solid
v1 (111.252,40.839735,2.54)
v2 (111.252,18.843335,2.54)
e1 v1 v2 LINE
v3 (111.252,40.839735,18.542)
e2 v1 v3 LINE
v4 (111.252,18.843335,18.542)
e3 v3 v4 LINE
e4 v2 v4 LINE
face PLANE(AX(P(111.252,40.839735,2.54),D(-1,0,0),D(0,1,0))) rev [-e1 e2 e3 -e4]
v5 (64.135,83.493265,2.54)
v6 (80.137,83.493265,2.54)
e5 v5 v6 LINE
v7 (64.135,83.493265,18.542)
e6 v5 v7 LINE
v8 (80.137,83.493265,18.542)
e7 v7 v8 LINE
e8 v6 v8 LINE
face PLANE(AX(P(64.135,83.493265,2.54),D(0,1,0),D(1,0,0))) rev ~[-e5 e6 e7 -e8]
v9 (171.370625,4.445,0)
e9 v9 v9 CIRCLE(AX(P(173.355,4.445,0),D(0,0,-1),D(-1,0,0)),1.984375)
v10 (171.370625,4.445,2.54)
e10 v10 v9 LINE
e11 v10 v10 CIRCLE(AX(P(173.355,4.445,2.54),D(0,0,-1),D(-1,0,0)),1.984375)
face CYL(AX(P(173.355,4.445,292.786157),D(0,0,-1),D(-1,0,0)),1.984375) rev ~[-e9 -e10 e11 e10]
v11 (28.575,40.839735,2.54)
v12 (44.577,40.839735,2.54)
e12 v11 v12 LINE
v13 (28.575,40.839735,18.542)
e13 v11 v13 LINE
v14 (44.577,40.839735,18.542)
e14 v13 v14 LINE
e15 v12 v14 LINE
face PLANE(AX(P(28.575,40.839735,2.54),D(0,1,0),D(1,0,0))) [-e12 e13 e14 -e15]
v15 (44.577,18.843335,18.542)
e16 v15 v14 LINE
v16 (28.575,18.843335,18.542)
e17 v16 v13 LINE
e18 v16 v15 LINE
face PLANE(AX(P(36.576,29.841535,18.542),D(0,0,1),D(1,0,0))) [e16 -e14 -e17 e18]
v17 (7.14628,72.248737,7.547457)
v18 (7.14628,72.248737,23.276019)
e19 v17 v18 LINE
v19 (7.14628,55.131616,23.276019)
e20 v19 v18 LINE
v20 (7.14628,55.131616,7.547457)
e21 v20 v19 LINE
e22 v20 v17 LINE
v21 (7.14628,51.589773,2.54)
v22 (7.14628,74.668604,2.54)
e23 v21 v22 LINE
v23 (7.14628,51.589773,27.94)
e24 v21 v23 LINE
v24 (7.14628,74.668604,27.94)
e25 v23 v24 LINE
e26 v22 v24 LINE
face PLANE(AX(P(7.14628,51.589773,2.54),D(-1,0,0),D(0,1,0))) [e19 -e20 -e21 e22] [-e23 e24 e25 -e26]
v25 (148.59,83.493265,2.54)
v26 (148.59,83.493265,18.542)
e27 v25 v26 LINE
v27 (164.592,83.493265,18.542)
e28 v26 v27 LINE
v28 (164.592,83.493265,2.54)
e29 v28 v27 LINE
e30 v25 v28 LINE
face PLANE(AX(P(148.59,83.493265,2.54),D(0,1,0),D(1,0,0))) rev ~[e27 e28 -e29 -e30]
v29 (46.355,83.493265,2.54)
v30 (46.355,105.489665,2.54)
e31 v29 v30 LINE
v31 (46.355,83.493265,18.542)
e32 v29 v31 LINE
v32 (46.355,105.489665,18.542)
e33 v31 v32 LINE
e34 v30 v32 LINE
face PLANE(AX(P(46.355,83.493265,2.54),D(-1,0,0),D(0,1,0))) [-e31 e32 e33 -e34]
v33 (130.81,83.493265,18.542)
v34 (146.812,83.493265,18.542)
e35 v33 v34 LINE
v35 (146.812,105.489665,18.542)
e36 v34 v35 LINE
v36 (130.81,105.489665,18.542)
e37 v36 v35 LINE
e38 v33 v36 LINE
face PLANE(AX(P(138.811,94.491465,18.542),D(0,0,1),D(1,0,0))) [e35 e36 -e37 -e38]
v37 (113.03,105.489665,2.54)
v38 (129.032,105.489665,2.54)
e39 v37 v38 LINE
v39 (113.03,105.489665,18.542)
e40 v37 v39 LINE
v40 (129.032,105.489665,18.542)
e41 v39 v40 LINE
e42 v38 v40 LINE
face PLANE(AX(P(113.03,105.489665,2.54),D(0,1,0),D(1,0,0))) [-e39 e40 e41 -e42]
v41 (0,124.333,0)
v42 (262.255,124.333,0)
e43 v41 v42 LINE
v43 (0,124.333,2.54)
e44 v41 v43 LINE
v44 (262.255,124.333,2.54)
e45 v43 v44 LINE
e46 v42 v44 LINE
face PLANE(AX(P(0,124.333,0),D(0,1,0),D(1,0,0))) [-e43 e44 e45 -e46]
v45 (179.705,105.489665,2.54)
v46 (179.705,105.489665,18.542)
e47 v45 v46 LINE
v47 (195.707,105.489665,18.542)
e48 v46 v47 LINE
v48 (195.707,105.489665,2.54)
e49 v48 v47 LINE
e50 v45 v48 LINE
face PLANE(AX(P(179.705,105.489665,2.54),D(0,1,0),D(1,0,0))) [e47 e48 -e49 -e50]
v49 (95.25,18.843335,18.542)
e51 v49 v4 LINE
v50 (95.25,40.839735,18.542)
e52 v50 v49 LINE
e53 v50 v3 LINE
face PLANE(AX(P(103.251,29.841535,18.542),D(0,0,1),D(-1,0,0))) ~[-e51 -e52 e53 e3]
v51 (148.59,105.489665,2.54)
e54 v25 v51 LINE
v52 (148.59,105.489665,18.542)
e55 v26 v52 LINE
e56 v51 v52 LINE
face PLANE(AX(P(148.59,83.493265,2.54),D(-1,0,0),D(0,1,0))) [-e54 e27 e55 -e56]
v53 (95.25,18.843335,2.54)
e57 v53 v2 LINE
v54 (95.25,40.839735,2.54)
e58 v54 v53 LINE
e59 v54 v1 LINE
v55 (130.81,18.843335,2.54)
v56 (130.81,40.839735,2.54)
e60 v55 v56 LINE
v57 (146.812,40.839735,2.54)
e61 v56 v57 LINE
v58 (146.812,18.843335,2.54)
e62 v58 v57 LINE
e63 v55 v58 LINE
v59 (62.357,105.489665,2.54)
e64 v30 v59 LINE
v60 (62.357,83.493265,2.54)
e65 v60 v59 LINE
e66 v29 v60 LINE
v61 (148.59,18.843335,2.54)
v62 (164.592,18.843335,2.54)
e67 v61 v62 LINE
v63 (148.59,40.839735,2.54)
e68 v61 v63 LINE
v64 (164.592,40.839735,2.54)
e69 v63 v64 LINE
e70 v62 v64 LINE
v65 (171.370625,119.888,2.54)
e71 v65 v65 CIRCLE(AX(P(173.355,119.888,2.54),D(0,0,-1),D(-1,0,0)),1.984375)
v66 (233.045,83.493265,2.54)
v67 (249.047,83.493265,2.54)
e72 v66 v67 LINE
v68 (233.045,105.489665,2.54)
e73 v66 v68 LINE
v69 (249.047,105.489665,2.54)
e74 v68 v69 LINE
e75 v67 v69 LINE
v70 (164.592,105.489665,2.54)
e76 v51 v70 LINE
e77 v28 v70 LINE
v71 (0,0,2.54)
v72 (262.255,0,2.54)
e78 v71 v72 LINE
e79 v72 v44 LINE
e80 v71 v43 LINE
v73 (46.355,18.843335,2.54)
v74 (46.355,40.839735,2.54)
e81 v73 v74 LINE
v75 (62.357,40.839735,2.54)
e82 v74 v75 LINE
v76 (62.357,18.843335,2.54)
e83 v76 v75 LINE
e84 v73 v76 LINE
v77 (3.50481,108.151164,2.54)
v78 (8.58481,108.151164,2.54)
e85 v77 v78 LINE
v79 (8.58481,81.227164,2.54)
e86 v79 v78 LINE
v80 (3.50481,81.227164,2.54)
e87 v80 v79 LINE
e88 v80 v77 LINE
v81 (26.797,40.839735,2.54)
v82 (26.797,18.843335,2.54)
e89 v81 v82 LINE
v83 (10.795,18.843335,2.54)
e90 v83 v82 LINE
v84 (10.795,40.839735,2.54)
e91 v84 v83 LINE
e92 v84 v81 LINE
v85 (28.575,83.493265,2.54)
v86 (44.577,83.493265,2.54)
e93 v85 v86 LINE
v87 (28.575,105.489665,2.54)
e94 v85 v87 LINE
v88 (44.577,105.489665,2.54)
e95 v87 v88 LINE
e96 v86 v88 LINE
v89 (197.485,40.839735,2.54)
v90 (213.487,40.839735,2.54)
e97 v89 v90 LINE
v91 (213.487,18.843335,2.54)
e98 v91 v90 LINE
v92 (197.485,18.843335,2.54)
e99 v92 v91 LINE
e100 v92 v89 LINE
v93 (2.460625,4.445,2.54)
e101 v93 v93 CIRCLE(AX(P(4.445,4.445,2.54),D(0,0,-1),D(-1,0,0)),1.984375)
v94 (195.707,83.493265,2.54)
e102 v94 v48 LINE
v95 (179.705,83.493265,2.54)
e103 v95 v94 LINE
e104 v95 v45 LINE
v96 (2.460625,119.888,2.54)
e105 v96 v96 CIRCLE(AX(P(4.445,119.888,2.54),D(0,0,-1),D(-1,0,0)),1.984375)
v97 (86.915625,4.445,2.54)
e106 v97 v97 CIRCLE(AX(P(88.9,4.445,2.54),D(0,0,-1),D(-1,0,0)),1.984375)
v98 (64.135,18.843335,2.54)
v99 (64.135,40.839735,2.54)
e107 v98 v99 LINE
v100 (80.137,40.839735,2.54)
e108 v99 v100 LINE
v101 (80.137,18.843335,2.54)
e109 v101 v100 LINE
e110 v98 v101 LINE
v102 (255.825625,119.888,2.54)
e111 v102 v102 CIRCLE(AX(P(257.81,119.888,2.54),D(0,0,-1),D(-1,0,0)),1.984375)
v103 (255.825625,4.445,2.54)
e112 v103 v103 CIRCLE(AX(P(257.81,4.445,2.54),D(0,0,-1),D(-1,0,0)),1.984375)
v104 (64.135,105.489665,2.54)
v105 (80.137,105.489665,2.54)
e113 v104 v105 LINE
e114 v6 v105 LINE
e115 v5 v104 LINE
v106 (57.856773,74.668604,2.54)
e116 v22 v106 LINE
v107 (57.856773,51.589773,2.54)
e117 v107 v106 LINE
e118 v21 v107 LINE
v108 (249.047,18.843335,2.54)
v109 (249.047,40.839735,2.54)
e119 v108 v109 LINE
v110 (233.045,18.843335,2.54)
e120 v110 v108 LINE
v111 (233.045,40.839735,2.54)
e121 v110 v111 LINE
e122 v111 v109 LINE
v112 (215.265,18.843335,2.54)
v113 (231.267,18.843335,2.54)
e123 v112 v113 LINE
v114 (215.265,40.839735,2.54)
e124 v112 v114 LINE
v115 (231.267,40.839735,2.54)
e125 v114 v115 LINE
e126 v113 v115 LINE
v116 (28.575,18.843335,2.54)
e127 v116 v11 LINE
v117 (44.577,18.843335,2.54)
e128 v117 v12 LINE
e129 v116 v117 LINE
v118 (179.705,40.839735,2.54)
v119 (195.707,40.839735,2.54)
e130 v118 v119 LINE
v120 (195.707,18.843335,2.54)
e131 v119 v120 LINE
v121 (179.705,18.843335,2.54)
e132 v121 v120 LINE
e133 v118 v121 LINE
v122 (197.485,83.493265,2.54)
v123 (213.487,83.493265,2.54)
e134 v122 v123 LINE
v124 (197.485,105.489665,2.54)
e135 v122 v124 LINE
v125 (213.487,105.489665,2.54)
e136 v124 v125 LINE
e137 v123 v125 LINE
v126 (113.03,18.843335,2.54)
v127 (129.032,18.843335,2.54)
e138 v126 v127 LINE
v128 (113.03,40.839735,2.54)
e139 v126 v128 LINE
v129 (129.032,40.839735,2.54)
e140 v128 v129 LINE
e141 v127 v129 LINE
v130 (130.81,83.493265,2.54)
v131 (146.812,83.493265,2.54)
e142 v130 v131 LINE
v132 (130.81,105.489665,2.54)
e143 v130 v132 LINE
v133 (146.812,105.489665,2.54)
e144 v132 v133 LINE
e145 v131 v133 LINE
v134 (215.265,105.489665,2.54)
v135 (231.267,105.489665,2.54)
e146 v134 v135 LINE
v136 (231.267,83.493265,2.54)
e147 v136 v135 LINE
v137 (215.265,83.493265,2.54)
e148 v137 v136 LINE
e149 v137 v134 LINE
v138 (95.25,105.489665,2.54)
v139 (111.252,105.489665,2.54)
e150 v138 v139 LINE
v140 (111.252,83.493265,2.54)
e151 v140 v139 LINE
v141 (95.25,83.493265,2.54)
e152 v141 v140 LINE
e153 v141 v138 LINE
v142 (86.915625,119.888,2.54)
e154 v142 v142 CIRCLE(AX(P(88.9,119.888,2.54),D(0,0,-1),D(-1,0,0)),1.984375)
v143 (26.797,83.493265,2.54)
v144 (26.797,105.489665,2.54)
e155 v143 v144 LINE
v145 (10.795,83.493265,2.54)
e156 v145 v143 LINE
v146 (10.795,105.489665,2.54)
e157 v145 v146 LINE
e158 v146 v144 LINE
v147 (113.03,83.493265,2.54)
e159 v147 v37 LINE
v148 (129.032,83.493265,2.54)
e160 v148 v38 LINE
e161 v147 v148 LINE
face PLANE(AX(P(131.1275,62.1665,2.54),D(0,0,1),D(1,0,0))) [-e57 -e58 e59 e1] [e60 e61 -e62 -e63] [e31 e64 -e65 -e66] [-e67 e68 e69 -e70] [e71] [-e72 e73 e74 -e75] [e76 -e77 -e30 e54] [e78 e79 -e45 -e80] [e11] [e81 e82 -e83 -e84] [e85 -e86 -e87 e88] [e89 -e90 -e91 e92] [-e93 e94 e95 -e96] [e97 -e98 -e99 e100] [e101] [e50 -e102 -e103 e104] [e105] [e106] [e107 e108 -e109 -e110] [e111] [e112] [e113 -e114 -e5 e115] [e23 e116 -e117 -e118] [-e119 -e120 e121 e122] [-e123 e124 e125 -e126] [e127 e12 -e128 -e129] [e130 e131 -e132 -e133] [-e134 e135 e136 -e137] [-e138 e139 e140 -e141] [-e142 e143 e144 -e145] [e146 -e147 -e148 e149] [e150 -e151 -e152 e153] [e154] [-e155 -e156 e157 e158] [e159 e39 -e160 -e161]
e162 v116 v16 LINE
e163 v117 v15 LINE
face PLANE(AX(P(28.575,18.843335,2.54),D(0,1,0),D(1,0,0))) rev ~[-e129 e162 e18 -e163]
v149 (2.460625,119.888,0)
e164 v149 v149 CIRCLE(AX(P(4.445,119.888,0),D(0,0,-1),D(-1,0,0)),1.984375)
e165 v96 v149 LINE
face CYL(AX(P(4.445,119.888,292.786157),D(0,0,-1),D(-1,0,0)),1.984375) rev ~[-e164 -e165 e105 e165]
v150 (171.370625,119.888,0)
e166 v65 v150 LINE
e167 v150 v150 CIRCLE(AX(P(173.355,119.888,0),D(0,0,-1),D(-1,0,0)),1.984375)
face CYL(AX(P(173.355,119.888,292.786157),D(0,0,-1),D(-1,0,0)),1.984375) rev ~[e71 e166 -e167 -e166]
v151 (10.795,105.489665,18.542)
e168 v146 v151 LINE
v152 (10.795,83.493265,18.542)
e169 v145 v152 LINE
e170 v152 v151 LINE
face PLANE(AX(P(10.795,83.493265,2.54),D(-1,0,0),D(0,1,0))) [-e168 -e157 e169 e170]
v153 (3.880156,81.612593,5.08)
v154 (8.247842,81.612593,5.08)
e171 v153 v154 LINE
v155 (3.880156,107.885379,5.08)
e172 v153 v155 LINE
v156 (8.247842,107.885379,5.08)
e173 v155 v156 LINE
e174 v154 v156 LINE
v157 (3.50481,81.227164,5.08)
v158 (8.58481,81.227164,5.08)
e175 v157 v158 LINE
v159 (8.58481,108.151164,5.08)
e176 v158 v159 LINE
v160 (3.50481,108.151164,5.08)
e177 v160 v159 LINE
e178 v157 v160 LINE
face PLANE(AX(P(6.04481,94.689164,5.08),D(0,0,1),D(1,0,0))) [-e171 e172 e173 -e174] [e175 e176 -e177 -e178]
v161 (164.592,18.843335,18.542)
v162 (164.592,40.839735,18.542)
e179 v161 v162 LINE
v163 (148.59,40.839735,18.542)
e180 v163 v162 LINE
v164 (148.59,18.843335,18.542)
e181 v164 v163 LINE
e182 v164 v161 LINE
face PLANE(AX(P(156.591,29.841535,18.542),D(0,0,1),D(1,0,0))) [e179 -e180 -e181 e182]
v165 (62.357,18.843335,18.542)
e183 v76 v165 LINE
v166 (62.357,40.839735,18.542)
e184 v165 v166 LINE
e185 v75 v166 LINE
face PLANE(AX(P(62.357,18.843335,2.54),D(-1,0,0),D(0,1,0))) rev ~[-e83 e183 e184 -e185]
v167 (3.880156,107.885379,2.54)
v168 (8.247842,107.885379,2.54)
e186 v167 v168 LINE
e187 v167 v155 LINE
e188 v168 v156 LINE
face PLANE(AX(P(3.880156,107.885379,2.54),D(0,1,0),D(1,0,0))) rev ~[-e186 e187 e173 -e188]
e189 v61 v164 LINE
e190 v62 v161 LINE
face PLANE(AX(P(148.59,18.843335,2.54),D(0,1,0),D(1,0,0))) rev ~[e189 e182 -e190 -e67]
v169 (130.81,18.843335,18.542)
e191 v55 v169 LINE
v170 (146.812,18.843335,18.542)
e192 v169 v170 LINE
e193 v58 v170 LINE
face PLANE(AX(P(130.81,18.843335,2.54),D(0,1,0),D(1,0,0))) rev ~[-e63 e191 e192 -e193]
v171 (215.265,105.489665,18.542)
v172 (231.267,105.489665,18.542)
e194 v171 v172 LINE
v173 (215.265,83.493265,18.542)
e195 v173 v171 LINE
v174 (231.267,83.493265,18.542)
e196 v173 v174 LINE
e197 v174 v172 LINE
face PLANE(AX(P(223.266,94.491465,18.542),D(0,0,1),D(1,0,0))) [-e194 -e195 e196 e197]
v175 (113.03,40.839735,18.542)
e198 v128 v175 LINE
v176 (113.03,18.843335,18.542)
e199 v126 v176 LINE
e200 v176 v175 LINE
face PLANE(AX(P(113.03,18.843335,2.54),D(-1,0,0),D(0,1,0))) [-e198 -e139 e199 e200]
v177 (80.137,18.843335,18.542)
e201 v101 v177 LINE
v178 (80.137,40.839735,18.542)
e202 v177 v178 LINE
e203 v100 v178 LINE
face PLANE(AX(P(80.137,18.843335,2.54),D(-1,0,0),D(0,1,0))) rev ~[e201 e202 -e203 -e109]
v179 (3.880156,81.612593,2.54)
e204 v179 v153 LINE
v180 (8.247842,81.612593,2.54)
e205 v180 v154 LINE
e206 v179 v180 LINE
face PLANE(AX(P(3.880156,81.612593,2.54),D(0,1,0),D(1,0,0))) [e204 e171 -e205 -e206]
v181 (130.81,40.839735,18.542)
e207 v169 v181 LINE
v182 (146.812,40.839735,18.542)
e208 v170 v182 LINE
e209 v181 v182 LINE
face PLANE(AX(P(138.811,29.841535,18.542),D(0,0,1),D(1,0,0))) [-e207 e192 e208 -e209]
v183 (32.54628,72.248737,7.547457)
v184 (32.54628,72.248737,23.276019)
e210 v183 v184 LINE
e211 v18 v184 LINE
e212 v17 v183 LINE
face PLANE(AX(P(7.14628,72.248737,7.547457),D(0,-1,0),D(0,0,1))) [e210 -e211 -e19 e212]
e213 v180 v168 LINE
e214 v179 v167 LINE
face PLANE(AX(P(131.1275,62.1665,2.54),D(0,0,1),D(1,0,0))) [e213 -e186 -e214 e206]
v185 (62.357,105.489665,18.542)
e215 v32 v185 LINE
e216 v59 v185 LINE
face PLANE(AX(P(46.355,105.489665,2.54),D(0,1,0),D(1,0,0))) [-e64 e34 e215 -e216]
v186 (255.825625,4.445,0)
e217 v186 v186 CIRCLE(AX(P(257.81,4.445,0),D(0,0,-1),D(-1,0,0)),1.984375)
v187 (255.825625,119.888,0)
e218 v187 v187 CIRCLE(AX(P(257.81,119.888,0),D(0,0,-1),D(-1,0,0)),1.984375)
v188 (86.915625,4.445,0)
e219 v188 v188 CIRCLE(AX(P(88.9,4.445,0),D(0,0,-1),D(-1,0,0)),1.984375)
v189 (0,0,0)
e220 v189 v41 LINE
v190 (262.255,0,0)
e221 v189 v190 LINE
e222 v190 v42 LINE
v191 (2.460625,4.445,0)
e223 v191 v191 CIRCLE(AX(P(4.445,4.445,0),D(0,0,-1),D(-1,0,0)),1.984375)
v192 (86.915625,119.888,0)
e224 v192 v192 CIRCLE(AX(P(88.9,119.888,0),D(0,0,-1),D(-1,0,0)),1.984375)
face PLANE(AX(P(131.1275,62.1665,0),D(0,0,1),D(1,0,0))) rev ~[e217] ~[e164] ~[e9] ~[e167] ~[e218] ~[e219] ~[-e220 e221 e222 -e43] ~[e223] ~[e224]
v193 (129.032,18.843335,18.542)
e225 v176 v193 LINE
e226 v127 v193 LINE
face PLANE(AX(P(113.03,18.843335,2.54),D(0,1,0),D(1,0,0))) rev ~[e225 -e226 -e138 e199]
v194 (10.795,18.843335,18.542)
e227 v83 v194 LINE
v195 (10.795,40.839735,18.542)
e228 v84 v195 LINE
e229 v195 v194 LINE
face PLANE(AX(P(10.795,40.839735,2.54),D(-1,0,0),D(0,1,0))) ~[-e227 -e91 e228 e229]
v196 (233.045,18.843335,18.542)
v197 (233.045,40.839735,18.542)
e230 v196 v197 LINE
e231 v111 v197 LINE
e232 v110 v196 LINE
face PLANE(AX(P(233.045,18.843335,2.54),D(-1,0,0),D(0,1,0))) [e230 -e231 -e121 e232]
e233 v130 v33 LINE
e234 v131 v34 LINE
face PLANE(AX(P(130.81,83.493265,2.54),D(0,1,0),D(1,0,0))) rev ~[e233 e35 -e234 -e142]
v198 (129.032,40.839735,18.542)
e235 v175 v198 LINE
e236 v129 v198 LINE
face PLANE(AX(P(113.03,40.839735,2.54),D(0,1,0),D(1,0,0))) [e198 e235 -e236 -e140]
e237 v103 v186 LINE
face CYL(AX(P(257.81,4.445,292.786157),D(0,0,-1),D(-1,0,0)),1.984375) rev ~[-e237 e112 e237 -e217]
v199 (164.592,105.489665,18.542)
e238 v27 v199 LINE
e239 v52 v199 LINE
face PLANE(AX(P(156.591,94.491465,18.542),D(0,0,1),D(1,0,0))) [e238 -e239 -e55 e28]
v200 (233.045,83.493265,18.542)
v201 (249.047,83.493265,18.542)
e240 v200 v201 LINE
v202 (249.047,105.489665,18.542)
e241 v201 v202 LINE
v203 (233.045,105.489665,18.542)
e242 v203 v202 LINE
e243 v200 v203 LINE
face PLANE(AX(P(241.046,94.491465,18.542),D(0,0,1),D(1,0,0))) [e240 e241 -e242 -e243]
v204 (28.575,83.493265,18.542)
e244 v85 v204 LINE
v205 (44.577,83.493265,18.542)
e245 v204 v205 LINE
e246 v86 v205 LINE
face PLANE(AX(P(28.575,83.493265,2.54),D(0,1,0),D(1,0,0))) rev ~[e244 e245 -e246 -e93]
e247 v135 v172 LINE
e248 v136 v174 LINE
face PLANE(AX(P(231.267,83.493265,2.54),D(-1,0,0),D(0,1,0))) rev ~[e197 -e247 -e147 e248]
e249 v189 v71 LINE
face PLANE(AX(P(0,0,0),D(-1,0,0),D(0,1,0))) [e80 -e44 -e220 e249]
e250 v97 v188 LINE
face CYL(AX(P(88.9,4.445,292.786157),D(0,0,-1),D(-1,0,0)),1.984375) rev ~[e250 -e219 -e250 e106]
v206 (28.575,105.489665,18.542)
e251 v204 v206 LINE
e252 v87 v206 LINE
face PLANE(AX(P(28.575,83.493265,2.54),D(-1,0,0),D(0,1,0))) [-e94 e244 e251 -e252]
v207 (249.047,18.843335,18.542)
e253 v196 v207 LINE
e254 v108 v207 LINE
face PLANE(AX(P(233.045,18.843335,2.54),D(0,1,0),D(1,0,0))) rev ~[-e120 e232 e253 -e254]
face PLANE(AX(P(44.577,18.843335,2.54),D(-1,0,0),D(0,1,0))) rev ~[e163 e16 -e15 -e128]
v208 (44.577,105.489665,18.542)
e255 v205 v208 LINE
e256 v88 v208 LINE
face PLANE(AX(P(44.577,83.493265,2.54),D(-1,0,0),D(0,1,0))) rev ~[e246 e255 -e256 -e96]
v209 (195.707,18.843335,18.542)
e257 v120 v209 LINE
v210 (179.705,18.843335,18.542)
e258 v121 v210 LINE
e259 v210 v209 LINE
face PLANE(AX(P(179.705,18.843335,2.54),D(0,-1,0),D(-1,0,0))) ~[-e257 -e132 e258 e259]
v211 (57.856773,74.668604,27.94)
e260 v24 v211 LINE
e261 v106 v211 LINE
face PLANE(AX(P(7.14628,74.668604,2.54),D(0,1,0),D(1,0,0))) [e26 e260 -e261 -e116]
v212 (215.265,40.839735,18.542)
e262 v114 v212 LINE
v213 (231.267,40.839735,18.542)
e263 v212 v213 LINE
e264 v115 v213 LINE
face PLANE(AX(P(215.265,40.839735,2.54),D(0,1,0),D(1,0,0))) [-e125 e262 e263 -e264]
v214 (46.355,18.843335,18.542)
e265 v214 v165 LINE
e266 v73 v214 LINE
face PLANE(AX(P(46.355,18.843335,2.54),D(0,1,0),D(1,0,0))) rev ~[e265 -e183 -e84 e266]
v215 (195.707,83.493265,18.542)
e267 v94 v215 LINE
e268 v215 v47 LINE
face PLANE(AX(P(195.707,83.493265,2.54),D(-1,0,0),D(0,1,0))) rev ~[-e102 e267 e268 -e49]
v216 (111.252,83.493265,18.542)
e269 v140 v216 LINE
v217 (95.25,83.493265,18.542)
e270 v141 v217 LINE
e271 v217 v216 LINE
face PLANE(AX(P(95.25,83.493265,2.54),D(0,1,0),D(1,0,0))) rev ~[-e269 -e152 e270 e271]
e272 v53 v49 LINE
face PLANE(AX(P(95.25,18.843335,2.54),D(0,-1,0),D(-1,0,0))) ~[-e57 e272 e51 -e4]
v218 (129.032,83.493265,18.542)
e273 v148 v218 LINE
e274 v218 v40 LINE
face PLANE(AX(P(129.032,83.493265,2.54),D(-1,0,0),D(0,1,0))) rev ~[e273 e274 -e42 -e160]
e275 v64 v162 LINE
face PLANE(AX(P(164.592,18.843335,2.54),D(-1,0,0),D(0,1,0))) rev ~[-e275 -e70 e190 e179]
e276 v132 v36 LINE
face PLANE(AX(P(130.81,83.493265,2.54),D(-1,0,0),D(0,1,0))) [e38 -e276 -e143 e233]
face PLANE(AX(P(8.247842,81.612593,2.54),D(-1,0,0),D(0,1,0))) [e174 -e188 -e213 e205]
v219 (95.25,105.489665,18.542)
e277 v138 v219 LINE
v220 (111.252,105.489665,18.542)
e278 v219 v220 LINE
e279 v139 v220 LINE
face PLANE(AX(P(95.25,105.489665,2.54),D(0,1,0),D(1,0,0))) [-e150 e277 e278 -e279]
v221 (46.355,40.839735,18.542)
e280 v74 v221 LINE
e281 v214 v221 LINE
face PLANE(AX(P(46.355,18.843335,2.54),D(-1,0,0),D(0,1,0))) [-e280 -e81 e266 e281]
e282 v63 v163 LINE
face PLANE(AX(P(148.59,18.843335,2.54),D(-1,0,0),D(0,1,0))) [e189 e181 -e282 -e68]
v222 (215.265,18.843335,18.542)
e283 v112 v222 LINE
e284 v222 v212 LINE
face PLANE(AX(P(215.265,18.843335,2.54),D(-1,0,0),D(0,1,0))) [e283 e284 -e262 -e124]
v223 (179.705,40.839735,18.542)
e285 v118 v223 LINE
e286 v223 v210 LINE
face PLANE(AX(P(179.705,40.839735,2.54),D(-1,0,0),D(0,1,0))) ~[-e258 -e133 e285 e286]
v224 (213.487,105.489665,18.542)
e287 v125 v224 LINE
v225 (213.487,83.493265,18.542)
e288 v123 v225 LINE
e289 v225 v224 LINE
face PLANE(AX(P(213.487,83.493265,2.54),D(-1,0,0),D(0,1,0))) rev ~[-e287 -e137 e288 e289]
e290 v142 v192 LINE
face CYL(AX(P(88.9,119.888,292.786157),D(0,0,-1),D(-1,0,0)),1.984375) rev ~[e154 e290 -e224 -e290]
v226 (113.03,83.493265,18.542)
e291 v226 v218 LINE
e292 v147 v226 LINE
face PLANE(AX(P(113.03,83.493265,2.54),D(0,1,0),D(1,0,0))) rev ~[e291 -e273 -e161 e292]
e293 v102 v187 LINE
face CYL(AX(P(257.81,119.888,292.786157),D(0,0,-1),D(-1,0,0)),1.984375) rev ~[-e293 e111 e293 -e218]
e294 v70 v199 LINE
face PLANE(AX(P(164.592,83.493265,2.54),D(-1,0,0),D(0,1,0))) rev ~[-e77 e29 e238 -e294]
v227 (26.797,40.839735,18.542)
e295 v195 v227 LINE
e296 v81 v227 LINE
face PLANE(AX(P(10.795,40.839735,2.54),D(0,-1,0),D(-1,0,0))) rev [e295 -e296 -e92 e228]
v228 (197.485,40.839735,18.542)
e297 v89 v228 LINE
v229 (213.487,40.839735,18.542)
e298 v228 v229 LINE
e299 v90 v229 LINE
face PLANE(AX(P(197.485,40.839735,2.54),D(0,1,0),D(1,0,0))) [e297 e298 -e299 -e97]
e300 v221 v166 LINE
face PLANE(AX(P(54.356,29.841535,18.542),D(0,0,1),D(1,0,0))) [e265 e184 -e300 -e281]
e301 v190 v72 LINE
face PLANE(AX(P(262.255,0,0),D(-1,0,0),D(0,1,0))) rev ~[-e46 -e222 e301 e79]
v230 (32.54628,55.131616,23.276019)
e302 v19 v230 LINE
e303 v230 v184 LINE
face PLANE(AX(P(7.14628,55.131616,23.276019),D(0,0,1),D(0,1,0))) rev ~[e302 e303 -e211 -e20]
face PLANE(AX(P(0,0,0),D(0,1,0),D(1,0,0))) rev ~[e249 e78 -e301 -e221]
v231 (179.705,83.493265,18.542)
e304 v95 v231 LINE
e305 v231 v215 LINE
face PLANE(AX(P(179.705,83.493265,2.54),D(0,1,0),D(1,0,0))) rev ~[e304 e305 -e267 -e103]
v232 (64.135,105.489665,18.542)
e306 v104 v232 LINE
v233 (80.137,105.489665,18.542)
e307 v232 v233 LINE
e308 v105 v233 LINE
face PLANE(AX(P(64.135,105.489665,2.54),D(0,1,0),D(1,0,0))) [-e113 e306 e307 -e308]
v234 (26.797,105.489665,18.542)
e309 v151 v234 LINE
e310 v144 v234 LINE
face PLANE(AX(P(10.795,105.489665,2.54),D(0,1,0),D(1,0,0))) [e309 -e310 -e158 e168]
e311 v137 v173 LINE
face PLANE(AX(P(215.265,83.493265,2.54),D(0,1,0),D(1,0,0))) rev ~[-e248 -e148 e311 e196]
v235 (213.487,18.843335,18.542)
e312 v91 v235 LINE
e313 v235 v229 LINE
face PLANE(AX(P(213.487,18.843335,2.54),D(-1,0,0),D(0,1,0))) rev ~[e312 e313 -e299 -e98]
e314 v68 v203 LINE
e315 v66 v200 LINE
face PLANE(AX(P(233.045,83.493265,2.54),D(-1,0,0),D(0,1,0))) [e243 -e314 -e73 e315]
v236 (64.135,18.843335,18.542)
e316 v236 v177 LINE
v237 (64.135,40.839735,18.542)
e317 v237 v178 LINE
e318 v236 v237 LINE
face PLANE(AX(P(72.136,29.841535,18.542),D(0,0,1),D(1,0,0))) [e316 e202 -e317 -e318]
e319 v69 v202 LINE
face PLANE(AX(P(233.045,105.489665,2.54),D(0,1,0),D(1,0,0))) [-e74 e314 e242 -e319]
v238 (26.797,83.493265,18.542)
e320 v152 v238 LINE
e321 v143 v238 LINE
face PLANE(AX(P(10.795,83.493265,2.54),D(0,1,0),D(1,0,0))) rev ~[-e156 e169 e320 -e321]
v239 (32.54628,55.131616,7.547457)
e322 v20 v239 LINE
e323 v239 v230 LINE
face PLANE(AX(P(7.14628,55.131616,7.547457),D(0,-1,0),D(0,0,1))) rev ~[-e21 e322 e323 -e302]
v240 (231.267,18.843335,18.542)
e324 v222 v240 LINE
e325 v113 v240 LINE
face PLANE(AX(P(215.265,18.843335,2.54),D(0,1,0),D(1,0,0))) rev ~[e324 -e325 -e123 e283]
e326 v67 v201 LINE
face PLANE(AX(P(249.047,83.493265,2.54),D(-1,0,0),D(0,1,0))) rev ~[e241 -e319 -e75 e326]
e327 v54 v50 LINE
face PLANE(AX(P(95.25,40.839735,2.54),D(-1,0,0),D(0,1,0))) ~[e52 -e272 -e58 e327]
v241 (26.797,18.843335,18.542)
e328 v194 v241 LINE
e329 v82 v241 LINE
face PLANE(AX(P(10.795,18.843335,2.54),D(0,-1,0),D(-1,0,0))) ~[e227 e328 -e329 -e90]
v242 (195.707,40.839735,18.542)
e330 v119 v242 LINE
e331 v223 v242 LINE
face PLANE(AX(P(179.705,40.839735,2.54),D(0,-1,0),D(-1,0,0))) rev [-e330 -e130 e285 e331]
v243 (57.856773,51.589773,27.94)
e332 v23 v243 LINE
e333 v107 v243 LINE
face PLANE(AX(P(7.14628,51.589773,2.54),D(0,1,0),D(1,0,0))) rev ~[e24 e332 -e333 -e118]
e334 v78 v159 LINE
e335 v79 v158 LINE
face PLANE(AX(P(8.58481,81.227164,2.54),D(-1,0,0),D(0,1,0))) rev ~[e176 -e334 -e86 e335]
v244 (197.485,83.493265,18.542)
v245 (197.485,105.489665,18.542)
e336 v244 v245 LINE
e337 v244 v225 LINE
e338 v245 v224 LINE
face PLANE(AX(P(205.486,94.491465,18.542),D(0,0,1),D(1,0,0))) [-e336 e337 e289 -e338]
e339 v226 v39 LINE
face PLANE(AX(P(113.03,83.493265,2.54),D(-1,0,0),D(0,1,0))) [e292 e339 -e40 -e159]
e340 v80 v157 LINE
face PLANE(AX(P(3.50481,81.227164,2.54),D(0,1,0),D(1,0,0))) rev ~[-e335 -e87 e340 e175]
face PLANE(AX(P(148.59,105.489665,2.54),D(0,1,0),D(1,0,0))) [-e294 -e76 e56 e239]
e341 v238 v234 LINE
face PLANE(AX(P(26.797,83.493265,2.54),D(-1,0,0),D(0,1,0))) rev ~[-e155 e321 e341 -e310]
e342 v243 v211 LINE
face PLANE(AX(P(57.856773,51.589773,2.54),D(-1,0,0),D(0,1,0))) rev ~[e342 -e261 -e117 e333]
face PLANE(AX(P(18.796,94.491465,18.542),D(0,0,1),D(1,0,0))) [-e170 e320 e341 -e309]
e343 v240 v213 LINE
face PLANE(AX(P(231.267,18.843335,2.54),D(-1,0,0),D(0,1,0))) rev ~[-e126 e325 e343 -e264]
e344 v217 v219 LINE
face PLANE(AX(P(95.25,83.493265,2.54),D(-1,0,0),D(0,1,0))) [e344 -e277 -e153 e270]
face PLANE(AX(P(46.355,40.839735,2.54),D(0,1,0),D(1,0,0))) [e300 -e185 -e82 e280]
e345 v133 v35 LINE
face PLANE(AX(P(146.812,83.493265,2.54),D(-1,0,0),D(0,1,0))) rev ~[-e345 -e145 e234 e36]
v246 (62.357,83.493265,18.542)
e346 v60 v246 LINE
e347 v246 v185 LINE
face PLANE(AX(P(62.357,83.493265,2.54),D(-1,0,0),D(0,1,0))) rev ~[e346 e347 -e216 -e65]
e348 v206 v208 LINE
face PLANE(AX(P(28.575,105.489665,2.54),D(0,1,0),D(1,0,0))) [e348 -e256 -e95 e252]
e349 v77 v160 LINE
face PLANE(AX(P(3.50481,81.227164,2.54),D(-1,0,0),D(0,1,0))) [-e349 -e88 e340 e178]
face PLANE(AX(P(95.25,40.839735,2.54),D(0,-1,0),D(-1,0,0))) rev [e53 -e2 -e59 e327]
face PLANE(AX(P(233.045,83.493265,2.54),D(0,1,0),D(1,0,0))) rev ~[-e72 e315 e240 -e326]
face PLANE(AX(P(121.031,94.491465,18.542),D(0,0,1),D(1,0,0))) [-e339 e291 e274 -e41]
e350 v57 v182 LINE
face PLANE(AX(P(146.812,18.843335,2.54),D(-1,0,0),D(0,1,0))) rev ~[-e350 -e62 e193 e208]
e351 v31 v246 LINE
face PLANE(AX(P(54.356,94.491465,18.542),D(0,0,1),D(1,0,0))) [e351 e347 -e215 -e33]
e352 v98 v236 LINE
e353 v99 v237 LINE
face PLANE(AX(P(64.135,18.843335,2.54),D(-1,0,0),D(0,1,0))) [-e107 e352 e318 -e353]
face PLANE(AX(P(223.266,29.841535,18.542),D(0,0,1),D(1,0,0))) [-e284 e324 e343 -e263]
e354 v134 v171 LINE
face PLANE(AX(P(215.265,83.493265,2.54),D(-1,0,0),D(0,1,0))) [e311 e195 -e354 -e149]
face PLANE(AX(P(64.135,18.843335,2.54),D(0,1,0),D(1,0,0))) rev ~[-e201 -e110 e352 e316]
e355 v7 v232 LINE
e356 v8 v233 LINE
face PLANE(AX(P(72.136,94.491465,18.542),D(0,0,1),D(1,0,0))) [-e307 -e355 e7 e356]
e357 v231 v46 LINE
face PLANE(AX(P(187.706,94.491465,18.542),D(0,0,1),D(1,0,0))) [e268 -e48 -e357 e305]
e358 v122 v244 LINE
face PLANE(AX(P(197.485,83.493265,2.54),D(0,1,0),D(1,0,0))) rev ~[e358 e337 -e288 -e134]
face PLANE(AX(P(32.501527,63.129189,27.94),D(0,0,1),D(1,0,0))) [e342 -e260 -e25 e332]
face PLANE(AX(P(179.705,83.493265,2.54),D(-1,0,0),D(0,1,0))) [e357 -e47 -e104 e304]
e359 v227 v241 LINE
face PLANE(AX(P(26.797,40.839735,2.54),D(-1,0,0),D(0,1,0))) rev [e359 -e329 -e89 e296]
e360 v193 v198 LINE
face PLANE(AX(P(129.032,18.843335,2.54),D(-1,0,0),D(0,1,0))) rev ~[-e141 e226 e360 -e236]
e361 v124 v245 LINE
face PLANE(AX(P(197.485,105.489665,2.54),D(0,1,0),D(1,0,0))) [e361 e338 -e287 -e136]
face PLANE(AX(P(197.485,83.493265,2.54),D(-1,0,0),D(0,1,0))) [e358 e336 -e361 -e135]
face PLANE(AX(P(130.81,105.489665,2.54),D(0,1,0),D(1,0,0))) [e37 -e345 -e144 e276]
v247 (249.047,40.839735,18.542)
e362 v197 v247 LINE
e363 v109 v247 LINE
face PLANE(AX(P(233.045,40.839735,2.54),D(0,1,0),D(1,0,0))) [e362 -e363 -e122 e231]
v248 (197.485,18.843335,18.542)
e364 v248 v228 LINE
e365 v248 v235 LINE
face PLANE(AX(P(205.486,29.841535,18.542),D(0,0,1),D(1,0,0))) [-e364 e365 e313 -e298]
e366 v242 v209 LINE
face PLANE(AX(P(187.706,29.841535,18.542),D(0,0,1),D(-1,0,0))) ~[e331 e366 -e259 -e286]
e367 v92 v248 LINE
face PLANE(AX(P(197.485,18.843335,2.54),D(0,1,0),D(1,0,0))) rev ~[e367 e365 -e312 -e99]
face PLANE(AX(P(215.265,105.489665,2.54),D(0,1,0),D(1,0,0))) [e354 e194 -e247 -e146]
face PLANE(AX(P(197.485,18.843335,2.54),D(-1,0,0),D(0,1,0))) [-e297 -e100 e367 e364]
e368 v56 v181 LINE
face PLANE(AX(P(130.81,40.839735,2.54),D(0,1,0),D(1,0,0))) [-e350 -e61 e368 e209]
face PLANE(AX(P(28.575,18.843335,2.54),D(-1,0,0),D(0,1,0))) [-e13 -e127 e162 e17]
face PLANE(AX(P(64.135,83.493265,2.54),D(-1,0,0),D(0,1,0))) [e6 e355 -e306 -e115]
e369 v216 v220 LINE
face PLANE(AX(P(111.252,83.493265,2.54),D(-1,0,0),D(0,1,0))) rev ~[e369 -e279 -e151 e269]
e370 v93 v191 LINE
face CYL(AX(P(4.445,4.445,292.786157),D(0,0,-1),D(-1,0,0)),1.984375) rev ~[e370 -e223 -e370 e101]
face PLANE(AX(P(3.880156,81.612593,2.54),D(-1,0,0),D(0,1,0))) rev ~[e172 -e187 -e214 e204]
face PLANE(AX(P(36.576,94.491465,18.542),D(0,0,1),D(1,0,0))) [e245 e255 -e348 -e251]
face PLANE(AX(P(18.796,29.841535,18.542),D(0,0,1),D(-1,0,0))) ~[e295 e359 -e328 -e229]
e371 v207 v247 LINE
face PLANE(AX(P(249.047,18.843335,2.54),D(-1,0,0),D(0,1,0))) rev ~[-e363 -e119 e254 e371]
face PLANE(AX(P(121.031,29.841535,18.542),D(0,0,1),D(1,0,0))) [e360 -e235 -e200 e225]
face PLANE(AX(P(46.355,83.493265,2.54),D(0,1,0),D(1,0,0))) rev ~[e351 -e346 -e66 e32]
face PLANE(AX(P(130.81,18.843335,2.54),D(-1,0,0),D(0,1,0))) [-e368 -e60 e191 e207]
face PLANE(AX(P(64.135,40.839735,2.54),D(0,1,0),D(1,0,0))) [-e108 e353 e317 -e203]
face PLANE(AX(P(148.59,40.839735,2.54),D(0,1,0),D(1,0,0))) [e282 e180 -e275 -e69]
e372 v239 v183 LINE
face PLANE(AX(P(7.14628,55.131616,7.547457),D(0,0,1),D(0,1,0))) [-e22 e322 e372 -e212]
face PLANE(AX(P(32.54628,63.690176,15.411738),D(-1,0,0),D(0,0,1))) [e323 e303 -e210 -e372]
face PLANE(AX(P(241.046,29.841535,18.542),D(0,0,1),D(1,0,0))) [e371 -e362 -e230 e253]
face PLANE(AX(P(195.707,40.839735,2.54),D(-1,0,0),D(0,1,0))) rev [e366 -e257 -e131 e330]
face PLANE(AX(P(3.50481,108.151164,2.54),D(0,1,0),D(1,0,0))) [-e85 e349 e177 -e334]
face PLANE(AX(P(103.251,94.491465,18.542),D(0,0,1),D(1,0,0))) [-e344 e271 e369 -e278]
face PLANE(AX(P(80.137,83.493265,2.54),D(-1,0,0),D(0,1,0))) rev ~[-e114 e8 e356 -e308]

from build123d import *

# Parameters (mm, degrees)
SKETCH1_W                       = 262.255
SKETCH1_H                       = 124.333
BOSS_EXTRUDE1_DEPTH             = 2.54
F_5_32_0_15625_DIAMETER_HOLE1_D = 3.96875
SKETCH12_W                      = 5.08
SKETCH12_H                      = 26.924
SKETCH12_W_2                    = 4.367686067
SKETCH12_H_2                    = 26.272785271
BOSS_EXTRUDE2_DEPTH             = 2.54
SKETCH13_W                      = 50.710492808
SKETCH13_H                      = 23.078831344
BOSS_EXTRUDE3_DEPTH             = 25.4
SKETCH14_W                      = 15.728561486
SKETCH14_H                      = 17.117120152
CUT_EXTRUDE1_DEPTH              = 25.4
SKETCH16_W                      = 16.002
SKETCH16_H                      = 21.9964
BOSS_EXTRUDE5_DEPTH             = 16.002
LPATTERN1_COUNT                 = 4
LPATTERN1_PITCH                 = 17.78
MIRROR1_COPY_1_SKETCH_W         = 16.002
MIRROR1_COPY_1_SKETCH_H         = 21.9964
MIRROR1_COPY_1_DEPTH            = 16.002
MIRROR1_COPY_2_SKETCH_W         = 16.002
MIRROR1_COPY_2_SKETCH_H         = 21.9964
MIRROR1_COPY_2_DEPTH            = 16.002
MIRROR1_COPY_3_SKETCH_W         = 16.002
MIRROR1_COPY_3_SKETCH_H         = 21.9964
MIRROR1_COPY_3_DEPTH            = 16.002


with BuildPart() as part:
    # Sketch1 → Boss-Extrude1 (new body)
    with BuildSketch(Plane.XY):
        with Locations((131.1275, 62.1665)):
            Rectangle(SKETCH1_W, SKETCH1_H)
    extrude(amount=BOSS_EXTRUDE1_DEPTH)

    # 5/32 (0.15625) Diameter Hole1 (through all)
    with Locations(Plane.XY.offset(2.54)):
        with Locations((4.445, 119.888), (88.9, 119.888), (173.355, 119.888), (257.81, 119.888), (4.445, 4.445), (88.9, 4.445), (173.355, 4.445), (257.81, 4.445)):
            Hole(F_5_32_0_15625_DIAMETER_HOLE1_D / 2)

    # Sketch12 → Boss-Extrude2 (add)
    with BuildSketch(Plane.XY.offset(2.54)):
        with Locations((6.044810111, 94.689164449)):
            Rectangle(SKETCH12_W, SKETCH12_H)
        with Locations((6.063998692, 94.748985924)):
            Rectangle(SKETCH12_W_2, SKETCH12_H_2, mode=Mode.SUBTRACT)
    extrude(amount=BOSS_EXTRUDE2_DEPTH)

    # Sketch13 → Boss-Extrude3 (add)
    with BuildSketch(Plane.XY.offset(2.54)):
        with Locations((32.501526889, 63.129188548)):
            Rectangle(SKETCH13_W, SKETCH13_H)
    extrude(amount=BOSS_EXTRUDE3_DEPTH)

    # Sketch14 → Cut-Extrude1 (cut)
    with BuildSketch(Plane.ZY.offset(-7.146280485)):
        with Locations((15.411737976, 63.690176449)):
            Rectangle(SKETCH14_W, SKETCH14_H)
    extrude(amount=-CUT_EXTRUDE1_DEPTH, mode=Mode.SUBTRACT)

    # Sketch16 → Boss-Extrude5 (add)
    with BuildSketch(Plane.XY.offset(2.54)):
        with Locations((103.251, 94.491464858)):
            Rectangle(SKETCH16_W, SKETCH16_H)
        with Locations((18.796, 94.491464858)):
            Rectangle(SKETCH16_W, SKETCH16_H)
        with Locations((187.706, 94.491464858)):
            Rectangle(SKETCH16_W, SKETCH16_H)
    boss_extrude5 = extrude(amount=BOSS_EXTRUDE5_DEPTH)

    # LPattern1: Boss-Extrude5 ×4
    with Locations(*[(i * LPATTERN1_PITCH, 0, 0) for i in range(1, LPATTERN1_COUNT)]):
        add(boss_extrude5)

    # Mirror1: Boss-Extrude5 across plane
    add(boss_extrude5.mirror(Plane.ZX.offset(62.1665)))

    # Mirror1 copy 1 sketch → Mirror1 copy 1 (add)
    with BuildSketch(Plane(origin=(17.78, 124.333, 2.54), x_dir=(1, 0, 0), z_dir=(0, 0, 1))):
        with Locations((103.251, -94.491464858)):
            Rectangle(MIRROR1_COPY_1_SKETCH_W, MIRROR1_COPY_1_SKETCH_H)
        with Locations((18.796, -94.491464858)):
            Rectangle(MIRROR1_COPY_1_SKETCH_W, MIRROR1_COPY_1_SKETCH_H)
        with Locations((187.706, -94.491464858)):
            Rectangle(MIRROR1_COPY_1_SKETCH_W, MIRROR1_COPY_1_SKETCH_H)
    extrude(amount=MIRROR1_COPY_1_DEPTH)

    # Mirror1 copy 2 sketch → Mirror1 copy 2 (add)
    with BuildSketch(Plane(origin=(35.56, 124.333, 2.54), x_dir=(1, 0, 0), z_dir=(0, 0, 1))):
        with Locations((103.251, -94.491464858)):
            Rectangle(MIRROR1_COPY_2_SKETCH_W, MIRROR1_COPY_2_SKETCH_H)
        with Locations((18.796, -94.491464858)):
            Rectangle(MIRROR1_COPY_2_SKETCH_W, MIRROR1_COPY_2_SKETCH_H)
        with Locations((187.706, -94.491464858)):
            Rectangle(MIRROR1_COPY_2_SKETCH_W, MIRROR1_COPY_2_SKETCH_H)
    extrude(amount=MIRROR1_COPY_2_DEPTH)

    # Mirror1 copy 3 sketch → Mirror1 copy 3 (add)
    with BuildSketch(Plane(origin=(53.34, 124.333, 2.54), x_dir=(1, 0, 0), z_dir=(0, 0, 1))):
        with Locations((103.251, -94.491464858)):
            Rectangle(MIRROR1_COPY_3_SKETCH_W, MIRROR1_COPY_3_SKETCH_H)
        with Locations((18.796, -94.491464858)):
            Rectangle(MIRROR1_COPY_3_SKETCH_W, MIRROR1_COPY_3_SKETCH_H)
        with Locations((187.706, -94.491464858)):
            Rectangle(MIRROR1_COPY_3_SKETCH_W, MIRROR1_COPY_3_SKETCH_H)
    extrude(amount=MIRROR1_COPY_3_DEPTH)


solid = part.part
